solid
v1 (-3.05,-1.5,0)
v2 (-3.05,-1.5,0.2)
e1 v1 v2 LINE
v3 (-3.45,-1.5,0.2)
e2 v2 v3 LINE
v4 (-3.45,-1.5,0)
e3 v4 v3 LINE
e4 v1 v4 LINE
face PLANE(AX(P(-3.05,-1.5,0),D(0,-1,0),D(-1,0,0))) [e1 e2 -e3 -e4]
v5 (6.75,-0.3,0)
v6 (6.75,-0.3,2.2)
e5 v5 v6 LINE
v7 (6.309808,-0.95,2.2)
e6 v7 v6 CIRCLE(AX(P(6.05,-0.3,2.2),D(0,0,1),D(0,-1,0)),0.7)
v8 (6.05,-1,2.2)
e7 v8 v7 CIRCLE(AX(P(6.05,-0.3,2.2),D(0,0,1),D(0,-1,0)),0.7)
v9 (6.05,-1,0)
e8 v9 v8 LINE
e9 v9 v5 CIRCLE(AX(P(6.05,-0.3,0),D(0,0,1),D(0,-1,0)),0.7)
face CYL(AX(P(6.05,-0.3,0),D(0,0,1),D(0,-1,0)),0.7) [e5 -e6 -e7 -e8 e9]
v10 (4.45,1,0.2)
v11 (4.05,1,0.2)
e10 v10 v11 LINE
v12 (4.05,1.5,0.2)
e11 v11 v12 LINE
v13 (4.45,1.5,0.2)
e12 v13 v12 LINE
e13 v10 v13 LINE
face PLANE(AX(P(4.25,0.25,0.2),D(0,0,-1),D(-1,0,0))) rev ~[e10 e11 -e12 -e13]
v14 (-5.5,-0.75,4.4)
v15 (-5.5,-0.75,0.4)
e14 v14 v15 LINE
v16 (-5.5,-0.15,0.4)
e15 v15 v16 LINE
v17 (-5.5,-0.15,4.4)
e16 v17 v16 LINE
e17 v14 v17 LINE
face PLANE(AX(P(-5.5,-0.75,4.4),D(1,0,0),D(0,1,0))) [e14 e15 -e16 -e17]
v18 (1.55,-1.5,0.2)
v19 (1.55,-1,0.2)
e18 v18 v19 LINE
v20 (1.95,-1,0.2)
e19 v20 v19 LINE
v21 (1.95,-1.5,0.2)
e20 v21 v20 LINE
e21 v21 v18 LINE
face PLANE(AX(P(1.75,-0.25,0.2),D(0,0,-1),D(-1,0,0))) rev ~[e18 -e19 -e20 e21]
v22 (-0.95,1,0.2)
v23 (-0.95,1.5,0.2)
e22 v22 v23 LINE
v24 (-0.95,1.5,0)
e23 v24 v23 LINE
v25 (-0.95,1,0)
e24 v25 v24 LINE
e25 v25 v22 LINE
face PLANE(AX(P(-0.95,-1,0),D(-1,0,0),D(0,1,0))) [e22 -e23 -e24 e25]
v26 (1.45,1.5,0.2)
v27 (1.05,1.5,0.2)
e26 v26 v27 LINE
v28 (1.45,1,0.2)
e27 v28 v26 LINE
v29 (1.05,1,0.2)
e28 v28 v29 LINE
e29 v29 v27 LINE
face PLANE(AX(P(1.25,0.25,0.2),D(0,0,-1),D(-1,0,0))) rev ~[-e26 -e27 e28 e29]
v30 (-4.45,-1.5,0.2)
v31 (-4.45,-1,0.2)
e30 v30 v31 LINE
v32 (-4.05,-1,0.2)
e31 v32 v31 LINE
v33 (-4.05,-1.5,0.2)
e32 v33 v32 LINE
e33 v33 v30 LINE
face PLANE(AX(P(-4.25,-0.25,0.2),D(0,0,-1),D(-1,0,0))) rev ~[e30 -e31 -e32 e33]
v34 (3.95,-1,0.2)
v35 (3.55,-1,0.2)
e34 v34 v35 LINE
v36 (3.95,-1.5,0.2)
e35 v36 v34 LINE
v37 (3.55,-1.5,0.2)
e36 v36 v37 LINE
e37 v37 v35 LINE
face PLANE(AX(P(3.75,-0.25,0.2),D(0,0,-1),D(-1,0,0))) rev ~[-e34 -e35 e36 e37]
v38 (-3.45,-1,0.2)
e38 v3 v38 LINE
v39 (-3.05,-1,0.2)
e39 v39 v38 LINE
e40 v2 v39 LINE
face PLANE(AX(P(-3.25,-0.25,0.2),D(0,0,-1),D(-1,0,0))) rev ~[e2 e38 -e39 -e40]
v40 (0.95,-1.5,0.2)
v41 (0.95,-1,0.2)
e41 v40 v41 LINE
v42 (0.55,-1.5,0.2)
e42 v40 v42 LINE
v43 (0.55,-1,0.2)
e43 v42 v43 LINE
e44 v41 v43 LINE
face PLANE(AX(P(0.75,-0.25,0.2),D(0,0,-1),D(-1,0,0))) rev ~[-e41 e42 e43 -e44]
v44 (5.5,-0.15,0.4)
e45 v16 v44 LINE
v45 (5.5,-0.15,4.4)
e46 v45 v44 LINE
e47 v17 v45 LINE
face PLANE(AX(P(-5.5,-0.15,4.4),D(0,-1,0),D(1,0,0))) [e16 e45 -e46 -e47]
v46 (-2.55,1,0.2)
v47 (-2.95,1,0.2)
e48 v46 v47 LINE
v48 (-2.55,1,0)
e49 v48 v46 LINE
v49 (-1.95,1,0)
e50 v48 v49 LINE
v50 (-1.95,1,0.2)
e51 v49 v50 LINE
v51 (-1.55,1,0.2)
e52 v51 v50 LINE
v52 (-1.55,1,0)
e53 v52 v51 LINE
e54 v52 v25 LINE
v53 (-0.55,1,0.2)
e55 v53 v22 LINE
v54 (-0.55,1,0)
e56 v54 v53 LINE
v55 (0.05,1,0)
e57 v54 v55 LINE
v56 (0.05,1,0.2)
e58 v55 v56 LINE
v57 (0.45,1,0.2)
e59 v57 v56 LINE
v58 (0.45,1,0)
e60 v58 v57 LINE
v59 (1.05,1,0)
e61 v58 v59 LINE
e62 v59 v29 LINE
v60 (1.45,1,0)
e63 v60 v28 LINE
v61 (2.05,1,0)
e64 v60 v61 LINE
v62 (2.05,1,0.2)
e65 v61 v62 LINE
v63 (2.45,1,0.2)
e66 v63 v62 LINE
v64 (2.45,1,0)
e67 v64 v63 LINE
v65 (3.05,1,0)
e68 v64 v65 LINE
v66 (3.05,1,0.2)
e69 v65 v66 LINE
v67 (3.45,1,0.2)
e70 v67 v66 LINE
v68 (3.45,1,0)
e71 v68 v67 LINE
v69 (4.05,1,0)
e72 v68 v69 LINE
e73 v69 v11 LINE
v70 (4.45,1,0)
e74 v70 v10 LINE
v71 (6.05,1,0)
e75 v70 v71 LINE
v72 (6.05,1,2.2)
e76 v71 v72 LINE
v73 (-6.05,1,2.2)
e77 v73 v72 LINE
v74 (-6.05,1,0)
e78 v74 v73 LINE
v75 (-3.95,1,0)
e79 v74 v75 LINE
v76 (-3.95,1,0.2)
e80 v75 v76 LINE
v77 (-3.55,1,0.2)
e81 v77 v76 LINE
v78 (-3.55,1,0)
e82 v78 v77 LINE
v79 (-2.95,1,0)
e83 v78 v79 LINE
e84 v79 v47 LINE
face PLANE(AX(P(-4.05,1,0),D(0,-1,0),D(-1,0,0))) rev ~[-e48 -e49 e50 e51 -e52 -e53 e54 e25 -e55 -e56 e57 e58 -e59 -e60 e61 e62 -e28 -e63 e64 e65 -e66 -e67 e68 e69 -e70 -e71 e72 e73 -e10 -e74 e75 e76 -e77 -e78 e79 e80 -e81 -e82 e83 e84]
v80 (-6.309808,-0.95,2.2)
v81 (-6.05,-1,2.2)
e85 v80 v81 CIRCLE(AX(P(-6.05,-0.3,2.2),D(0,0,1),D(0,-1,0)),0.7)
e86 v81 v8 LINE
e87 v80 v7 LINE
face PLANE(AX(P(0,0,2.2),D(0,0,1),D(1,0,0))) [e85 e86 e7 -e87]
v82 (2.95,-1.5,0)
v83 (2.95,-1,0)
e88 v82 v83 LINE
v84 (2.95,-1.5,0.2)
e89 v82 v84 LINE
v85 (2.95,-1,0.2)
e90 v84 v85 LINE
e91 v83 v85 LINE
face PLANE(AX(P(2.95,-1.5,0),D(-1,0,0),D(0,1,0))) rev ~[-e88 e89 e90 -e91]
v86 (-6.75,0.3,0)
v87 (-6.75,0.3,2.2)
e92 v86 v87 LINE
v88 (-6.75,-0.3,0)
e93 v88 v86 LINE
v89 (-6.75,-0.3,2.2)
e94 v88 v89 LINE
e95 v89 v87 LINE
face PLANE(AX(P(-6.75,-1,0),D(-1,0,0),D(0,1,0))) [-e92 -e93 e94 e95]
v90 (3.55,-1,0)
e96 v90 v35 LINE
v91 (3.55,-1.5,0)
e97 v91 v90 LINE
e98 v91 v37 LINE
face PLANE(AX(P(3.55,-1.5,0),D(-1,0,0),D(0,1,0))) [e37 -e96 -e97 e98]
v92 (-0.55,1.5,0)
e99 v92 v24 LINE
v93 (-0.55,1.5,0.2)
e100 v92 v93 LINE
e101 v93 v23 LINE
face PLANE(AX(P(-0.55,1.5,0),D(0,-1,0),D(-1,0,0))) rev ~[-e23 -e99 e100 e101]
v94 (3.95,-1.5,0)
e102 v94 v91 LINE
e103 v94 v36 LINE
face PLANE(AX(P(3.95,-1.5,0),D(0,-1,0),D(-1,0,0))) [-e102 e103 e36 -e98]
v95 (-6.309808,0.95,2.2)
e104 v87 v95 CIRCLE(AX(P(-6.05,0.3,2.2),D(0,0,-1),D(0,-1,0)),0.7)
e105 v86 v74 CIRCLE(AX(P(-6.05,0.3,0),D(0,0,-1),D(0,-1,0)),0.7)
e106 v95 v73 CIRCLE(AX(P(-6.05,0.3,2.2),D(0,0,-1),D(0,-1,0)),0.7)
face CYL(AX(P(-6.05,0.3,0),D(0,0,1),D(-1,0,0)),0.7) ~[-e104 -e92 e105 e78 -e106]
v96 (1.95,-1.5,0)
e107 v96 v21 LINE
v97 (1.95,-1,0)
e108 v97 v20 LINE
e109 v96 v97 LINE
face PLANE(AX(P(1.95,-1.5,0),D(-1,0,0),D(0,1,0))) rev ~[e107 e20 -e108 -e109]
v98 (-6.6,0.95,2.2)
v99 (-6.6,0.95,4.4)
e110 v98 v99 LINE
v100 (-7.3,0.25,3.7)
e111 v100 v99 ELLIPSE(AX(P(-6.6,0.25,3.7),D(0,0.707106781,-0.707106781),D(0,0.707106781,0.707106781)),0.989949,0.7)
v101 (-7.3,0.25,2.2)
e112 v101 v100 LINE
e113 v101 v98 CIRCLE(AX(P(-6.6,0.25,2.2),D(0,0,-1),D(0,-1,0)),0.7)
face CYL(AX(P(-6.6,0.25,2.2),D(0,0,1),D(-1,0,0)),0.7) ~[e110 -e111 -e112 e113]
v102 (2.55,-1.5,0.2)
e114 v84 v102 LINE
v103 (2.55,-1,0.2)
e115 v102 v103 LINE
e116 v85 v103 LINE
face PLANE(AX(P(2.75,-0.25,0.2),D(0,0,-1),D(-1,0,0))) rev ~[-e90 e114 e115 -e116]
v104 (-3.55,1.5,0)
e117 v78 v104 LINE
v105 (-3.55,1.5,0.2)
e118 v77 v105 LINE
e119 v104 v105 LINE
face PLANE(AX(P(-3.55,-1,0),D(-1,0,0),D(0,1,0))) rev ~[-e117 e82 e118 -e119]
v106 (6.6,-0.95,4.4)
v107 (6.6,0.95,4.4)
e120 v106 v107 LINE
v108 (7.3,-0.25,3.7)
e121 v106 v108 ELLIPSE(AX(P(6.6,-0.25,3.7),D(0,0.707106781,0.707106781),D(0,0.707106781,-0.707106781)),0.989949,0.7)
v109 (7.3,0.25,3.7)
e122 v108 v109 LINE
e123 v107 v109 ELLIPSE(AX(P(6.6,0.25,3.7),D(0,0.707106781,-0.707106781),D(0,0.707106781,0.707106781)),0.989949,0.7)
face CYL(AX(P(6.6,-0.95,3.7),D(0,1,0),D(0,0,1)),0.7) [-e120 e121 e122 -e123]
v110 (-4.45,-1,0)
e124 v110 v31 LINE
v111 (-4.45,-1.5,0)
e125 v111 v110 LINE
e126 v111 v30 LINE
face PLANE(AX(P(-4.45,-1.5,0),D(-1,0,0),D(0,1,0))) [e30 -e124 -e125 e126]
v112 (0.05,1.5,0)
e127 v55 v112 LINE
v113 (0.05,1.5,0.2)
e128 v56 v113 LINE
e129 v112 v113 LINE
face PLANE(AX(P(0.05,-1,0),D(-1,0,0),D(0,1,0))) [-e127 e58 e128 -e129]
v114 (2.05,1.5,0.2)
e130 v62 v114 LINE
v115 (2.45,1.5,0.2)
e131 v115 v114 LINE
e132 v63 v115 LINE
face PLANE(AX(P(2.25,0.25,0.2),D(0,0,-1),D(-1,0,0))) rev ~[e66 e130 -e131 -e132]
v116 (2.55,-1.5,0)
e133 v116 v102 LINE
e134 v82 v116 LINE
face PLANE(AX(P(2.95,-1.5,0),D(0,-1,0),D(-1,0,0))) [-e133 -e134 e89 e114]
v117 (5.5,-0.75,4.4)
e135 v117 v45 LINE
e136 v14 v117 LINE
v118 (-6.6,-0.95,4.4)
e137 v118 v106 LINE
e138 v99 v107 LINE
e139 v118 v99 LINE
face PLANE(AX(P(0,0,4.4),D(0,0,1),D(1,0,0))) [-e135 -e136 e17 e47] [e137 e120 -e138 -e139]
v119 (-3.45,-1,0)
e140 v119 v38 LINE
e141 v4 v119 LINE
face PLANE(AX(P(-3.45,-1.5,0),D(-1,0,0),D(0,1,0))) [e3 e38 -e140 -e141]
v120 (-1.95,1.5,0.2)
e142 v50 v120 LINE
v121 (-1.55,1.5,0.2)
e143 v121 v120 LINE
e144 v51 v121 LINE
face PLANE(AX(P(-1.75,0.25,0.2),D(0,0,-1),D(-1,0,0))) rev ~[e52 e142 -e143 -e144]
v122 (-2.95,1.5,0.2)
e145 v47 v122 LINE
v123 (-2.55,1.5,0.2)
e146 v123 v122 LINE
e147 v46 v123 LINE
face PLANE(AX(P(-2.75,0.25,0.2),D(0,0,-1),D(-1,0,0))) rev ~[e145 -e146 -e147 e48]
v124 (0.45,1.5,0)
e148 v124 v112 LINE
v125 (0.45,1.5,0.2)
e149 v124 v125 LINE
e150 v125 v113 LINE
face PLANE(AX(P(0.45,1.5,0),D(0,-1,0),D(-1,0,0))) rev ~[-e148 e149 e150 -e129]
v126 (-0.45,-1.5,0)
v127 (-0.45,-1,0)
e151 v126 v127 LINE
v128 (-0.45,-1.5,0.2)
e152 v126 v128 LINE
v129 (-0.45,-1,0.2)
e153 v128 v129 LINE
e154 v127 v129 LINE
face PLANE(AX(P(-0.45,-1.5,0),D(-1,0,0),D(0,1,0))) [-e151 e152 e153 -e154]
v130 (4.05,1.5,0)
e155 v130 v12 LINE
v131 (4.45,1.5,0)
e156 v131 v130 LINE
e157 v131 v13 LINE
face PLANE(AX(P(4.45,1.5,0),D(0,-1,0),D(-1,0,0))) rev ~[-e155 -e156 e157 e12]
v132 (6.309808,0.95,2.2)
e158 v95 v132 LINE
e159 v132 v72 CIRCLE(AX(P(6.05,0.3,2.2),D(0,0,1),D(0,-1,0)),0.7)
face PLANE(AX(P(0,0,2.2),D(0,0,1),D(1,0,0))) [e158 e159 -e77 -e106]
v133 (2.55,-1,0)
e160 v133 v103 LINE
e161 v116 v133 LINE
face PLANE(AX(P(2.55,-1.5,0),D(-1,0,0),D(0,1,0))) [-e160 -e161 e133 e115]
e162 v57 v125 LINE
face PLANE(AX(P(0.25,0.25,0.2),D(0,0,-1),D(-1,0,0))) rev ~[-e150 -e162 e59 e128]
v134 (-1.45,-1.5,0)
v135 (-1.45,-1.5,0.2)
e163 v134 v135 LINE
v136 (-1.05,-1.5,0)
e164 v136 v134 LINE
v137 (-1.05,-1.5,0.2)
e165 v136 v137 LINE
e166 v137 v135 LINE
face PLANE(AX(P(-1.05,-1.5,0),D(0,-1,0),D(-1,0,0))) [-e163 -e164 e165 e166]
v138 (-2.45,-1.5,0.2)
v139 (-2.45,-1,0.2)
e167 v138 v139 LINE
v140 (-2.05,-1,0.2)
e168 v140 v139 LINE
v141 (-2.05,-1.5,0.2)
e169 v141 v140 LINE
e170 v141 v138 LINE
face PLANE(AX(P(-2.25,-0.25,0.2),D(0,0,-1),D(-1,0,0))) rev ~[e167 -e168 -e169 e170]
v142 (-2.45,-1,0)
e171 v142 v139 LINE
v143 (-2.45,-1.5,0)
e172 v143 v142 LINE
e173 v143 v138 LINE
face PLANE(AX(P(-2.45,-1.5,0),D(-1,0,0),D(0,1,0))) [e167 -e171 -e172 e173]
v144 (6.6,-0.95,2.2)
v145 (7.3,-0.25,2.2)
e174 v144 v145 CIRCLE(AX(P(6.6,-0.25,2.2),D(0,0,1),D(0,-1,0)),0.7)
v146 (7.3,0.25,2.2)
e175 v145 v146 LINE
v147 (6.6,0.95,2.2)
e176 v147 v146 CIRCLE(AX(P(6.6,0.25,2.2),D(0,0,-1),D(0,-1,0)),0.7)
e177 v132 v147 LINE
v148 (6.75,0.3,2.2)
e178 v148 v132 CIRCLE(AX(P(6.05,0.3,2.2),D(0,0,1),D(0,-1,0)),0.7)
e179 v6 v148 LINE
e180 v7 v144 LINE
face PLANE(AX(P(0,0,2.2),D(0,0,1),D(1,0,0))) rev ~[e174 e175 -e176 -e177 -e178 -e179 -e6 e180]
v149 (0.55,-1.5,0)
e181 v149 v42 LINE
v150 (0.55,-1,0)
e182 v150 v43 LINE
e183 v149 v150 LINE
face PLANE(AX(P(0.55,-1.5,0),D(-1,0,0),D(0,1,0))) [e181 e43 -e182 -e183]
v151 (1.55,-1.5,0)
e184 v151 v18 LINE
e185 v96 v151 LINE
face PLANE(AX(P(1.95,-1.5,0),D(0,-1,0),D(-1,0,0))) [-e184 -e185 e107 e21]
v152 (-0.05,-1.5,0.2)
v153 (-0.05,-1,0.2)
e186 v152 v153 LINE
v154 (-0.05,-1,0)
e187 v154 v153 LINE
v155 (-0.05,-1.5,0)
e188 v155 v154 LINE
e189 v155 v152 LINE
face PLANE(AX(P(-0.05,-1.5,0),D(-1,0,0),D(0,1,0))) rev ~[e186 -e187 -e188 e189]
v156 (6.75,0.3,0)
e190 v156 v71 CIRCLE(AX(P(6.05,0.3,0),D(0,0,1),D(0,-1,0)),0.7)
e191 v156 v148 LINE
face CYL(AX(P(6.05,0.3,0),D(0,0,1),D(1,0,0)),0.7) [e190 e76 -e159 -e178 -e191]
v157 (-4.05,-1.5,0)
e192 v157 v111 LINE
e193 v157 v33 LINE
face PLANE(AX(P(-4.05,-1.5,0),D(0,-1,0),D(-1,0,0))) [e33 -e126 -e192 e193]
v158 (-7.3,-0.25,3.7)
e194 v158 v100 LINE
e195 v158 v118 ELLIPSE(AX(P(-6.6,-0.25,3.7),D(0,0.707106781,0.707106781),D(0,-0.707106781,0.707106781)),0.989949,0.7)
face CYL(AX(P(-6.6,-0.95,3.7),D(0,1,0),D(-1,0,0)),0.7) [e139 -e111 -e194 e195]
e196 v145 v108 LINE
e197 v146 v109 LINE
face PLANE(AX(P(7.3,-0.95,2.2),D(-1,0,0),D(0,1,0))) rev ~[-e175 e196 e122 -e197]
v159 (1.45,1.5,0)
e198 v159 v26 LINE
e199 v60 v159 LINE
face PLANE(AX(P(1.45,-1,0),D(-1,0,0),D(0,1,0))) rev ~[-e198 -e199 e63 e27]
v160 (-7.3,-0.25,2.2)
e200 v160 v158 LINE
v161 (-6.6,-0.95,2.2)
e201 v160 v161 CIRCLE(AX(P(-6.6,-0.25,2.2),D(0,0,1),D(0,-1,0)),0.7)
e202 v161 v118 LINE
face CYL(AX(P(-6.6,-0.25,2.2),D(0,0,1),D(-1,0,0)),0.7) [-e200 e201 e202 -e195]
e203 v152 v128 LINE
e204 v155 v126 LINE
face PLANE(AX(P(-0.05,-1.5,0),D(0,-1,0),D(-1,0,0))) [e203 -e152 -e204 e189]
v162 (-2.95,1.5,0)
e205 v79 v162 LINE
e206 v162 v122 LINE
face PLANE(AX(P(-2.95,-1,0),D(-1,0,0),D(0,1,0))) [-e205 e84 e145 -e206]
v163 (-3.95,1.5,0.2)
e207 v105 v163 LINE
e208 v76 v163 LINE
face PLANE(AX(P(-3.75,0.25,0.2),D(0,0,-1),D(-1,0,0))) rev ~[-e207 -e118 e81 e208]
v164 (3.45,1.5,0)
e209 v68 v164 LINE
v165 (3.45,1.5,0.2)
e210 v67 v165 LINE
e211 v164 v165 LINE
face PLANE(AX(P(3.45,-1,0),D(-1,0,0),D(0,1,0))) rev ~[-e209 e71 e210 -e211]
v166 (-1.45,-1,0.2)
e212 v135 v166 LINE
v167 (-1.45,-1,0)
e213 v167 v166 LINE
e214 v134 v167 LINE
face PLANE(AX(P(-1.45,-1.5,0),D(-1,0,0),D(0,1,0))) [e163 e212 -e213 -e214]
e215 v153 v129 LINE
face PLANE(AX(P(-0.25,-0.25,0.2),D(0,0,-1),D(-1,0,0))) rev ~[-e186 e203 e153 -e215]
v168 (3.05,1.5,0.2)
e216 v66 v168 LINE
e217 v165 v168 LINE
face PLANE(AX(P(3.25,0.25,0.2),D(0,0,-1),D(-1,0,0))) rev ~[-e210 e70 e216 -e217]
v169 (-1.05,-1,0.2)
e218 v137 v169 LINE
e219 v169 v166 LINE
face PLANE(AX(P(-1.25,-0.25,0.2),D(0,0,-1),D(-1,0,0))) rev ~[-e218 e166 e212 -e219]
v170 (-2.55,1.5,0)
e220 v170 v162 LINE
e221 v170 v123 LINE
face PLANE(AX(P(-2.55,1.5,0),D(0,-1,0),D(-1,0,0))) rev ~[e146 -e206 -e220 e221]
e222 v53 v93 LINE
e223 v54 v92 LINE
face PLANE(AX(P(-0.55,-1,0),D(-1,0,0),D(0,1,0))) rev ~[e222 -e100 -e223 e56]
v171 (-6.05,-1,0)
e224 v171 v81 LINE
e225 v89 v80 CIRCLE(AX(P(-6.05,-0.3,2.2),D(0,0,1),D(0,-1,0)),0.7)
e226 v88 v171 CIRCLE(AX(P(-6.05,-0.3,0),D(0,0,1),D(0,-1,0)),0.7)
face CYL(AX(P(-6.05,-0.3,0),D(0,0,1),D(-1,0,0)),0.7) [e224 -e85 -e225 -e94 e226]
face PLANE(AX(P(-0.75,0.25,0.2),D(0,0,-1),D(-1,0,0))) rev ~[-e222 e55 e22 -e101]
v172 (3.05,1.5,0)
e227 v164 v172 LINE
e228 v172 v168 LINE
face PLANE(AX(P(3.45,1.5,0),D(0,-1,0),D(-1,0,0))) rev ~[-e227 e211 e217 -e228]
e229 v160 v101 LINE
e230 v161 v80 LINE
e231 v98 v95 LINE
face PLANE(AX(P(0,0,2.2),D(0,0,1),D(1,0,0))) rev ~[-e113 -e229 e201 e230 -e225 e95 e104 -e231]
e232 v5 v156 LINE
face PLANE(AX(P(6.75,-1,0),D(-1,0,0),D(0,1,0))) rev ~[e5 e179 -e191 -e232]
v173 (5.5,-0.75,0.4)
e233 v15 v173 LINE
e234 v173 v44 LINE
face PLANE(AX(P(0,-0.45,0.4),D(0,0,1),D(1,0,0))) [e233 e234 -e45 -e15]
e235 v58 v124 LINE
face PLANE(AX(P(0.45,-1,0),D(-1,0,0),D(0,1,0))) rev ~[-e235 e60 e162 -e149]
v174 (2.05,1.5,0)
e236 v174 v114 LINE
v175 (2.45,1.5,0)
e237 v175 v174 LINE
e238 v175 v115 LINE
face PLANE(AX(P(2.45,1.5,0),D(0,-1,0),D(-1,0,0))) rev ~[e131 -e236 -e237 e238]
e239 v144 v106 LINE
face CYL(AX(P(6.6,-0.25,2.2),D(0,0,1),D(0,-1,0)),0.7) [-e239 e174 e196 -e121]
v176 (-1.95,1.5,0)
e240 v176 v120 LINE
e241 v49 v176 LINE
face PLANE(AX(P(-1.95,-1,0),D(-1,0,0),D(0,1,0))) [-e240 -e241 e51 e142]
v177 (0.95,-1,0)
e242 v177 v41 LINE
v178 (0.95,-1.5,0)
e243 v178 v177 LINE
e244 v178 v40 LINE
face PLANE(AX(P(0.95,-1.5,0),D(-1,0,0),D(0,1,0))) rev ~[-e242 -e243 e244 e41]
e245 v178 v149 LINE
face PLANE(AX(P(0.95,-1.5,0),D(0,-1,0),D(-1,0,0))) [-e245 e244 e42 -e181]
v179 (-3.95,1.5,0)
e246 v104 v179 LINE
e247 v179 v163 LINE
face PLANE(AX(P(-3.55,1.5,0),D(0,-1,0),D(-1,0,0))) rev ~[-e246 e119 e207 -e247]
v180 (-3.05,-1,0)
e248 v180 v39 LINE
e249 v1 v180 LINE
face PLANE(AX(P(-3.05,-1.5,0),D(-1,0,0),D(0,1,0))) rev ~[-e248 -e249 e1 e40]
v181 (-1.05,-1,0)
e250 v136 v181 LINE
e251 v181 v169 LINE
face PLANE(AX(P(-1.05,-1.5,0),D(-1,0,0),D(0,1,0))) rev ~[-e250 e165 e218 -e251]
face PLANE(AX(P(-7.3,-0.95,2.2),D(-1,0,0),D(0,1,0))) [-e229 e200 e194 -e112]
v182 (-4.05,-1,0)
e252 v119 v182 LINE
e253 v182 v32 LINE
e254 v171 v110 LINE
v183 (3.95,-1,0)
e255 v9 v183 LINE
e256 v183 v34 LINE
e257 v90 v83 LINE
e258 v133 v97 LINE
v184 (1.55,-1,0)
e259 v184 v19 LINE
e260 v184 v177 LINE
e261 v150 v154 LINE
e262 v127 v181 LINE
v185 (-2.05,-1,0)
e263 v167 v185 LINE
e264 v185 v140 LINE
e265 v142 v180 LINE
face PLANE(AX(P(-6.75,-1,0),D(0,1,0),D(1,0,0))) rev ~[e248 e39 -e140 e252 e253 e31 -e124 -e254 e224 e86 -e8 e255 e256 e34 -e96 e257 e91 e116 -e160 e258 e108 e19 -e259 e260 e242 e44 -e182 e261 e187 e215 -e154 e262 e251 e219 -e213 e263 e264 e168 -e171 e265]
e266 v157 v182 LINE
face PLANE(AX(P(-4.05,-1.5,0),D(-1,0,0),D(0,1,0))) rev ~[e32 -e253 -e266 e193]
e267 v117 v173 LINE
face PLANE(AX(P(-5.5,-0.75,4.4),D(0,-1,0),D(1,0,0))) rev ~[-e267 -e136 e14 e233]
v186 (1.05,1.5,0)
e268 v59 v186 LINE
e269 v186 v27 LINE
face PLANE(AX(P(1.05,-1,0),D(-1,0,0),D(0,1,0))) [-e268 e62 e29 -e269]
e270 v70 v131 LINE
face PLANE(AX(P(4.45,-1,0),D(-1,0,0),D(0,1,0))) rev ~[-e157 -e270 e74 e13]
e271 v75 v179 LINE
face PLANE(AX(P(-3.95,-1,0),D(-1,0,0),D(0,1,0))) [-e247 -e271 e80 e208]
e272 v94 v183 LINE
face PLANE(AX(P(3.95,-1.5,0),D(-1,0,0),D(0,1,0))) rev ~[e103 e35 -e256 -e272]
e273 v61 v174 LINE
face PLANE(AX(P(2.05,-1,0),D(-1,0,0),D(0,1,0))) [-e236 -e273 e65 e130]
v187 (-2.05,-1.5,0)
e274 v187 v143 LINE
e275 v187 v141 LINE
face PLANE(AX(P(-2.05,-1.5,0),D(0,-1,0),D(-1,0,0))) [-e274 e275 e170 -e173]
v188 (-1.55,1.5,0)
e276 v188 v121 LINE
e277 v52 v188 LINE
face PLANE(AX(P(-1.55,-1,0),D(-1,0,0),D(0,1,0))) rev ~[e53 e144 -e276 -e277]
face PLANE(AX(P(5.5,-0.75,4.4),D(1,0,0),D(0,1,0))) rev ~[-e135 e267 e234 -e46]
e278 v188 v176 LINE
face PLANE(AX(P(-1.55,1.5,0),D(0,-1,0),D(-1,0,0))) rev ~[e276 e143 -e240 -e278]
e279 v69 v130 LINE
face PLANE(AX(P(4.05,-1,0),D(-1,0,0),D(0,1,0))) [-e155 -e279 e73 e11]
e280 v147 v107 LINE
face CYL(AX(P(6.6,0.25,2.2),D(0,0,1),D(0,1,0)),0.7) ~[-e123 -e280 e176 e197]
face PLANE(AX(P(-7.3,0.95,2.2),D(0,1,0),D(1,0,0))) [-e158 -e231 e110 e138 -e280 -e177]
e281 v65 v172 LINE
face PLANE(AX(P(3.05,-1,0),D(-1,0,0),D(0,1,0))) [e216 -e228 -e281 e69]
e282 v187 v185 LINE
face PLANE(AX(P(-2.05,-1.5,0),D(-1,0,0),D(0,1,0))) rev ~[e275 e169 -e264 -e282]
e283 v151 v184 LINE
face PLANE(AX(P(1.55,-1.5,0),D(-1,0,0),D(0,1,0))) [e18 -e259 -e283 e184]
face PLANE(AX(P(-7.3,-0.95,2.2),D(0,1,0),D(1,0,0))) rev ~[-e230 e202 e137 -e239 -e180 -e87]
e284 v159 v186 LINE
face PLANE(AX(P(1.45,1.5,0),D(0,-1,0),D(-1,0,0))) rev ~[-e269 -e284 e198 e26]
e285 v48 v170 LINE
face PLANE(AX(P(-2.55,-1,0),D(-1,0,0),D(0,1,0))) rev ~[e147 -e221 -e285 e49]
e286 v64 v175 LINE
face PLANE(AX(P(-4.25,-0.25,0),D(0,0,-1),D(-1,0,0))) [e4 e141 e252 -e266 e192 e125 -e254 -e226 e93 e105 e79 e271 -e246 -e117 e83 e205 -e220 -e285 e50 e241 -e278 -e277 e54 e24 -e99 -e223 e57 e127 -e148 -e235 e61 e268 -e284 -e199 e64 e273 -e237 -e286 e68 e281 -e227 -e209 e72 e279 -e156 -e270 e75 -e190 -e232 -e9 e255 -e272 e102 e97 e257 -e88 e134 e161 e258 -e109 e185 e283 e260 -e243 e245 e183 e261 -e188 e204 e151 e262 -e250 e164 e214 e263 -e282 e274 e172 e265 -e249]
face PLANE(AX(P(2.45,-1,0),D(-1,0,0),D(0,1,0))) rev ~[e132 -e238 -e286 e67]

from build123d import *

# Parameters (mm, degrees)
SKETCH1_W           = 13.5
SKETCH1_H           = 2
BOSS_EXTRUDE1_DEPTH = 2.2
FILLET1_R           = 0.7
SKETCH2_W           = 14.6
SKETCH2_H           = 1.9
BOSS_EXTRUDE2_DEPTH = 2.2
FILLET2_R           = 0.7
SKETCH3_W           = 11
SKETCH3_H           = 0.6
CUT_EXTRUDE1_DEPTH  = 4
SKETCH4_W           = 0.4
SKETCH4_H           = 2.5
BOSS_EXTRUDE3_DEPTH = 0.2


with BuildPart() as part:
    # Sketch1 → Boss-Extrude1 (new body)
    with BuildSketch(Plane.XY):
        Rectangle(SKETCH1_W, SKETCH1_H)
    extrude(amount=BOSS_EXTRUDE1_DEPTH)

    # Fillet1
    fillet1_edges = [part.edges().sort_by_distance(p)[0] for p in [
        (6.75, -1, 1.1),
        (-6.75, -1, 1.1),
        (-6.75, 1, 1.1),
        (6.75, 1, 1.1),
    ]]
    fillet(fillet1_edges, radius=FILLET1_R)

    # Sketch2 → Boss-Extrude2 (add)
    with BuildSketch(Plane.XY.offset(2.2)):
        Rectangle(SKETCH2_W, SKETCH2_H)
    extrude(amount=BOSS_EXTRUDE2_DEPTH)

    # Fillet2
    fillet2_edges = [part.edges().sort_by_distance(p)[0] for p in [
        (7.3, 0.95, 3.3),
        (7.3, 0, 4.4),
        (7.3, -0.95, 3.3),
        (-7.3, -0.95, 3.3),
        (-7.3, 0, 4.4),
        (-7.3, 0.95, 3.3),
    ]]
    fillet(fillet2_edges, radius=FILLET2_R)

    # Sketch3 → Cut-Extrude1 (cut)
    with BuildSketch(Plane.XY.offset(4.4)):
        with Locations((0, -0.45)):
            Rectangle(SKETCH3_W, SKETCH3_H)
    extrude(amount=-CUT_EXTRUDE1_DEPTH, mode=Mode.SUBTRACT)

    # Sketch4 → Boss-Extrude3 (add)
    with BuildSketch(Plane(origin=(0, 0, 0), x_dir=(-1, 0, 0), z_dir=(0, 0, -1))):
        with Locations((4.25, -0.25)):
            Rectangle(SKETCH4_W, SKETCH4_H)
        with Locations((3.25, -0.25)):
            Rectangle(SKETCH4_W, SKETCH4_H)
        with Locations((2.25, -0.25)):
            Rectangle(SKETCH4_W, SKETCH4_H)
        with Locations((1.25, -0.25)):
            Rectangle(SKETCH4_W, SKETCH4_H)
        with Locations((0.25, -0.25)):
            Rectangle(SKETCH4_W, SKETCH4_H)
        with Locations((-0.75, -0.25)):
            Rectangle(SKETCH4_W, SKETCH4_H)
        with Locations((-1.75, -0.25)):
            Rectangle(SKETCH4_W, SKETCH4_H)
        with Locations((-2.75, -0.25)):
            Rectangle(SKETCH4_W, SKETCH4_H)
        with Locations((-3.75, -0.25)):
            Rectangle(SKETCH4_W, SKETCH4_H)
        with Locations((3.75, 0.25)):
            Rectangle(SKETCH4_W, SKETCH4_H)
        with Locations((2.75, 0.25)):
            Rectangle(SKETCH4_W, SKETCH4_H)
        with Locations((1.75, 0.25)):
            Rectangle(SKETCH4_W, SKETCH4_H)
        with Locations((0.75, 0.25)):
            Rectangle(SKETCH4_W, SKETCH4_H)
        with Locations((-0.25, 0.25)):
            Rectangle(SKETCH4_W, SKETCH4_H)
        with Locations((-1.25, 0.25)):
            Rectangle(SKETCH4_W, SKETCH4_H)
        with Locations((-2.25, 0.25)):
            Rectangle(SKETCH4_W, SKETCH4_H)
        with Locations((-3.25, 0.25)):
            Rectangle(SKETCH4_W, SKETCH4_H)
        with Locations((-4.25, 0.25)):
            Rectangle(SKETCH4_W, SKETCH4_H)
    extrude(amount=-BOSS_EXTRUDE3_DEPTH)


solid = part.part
